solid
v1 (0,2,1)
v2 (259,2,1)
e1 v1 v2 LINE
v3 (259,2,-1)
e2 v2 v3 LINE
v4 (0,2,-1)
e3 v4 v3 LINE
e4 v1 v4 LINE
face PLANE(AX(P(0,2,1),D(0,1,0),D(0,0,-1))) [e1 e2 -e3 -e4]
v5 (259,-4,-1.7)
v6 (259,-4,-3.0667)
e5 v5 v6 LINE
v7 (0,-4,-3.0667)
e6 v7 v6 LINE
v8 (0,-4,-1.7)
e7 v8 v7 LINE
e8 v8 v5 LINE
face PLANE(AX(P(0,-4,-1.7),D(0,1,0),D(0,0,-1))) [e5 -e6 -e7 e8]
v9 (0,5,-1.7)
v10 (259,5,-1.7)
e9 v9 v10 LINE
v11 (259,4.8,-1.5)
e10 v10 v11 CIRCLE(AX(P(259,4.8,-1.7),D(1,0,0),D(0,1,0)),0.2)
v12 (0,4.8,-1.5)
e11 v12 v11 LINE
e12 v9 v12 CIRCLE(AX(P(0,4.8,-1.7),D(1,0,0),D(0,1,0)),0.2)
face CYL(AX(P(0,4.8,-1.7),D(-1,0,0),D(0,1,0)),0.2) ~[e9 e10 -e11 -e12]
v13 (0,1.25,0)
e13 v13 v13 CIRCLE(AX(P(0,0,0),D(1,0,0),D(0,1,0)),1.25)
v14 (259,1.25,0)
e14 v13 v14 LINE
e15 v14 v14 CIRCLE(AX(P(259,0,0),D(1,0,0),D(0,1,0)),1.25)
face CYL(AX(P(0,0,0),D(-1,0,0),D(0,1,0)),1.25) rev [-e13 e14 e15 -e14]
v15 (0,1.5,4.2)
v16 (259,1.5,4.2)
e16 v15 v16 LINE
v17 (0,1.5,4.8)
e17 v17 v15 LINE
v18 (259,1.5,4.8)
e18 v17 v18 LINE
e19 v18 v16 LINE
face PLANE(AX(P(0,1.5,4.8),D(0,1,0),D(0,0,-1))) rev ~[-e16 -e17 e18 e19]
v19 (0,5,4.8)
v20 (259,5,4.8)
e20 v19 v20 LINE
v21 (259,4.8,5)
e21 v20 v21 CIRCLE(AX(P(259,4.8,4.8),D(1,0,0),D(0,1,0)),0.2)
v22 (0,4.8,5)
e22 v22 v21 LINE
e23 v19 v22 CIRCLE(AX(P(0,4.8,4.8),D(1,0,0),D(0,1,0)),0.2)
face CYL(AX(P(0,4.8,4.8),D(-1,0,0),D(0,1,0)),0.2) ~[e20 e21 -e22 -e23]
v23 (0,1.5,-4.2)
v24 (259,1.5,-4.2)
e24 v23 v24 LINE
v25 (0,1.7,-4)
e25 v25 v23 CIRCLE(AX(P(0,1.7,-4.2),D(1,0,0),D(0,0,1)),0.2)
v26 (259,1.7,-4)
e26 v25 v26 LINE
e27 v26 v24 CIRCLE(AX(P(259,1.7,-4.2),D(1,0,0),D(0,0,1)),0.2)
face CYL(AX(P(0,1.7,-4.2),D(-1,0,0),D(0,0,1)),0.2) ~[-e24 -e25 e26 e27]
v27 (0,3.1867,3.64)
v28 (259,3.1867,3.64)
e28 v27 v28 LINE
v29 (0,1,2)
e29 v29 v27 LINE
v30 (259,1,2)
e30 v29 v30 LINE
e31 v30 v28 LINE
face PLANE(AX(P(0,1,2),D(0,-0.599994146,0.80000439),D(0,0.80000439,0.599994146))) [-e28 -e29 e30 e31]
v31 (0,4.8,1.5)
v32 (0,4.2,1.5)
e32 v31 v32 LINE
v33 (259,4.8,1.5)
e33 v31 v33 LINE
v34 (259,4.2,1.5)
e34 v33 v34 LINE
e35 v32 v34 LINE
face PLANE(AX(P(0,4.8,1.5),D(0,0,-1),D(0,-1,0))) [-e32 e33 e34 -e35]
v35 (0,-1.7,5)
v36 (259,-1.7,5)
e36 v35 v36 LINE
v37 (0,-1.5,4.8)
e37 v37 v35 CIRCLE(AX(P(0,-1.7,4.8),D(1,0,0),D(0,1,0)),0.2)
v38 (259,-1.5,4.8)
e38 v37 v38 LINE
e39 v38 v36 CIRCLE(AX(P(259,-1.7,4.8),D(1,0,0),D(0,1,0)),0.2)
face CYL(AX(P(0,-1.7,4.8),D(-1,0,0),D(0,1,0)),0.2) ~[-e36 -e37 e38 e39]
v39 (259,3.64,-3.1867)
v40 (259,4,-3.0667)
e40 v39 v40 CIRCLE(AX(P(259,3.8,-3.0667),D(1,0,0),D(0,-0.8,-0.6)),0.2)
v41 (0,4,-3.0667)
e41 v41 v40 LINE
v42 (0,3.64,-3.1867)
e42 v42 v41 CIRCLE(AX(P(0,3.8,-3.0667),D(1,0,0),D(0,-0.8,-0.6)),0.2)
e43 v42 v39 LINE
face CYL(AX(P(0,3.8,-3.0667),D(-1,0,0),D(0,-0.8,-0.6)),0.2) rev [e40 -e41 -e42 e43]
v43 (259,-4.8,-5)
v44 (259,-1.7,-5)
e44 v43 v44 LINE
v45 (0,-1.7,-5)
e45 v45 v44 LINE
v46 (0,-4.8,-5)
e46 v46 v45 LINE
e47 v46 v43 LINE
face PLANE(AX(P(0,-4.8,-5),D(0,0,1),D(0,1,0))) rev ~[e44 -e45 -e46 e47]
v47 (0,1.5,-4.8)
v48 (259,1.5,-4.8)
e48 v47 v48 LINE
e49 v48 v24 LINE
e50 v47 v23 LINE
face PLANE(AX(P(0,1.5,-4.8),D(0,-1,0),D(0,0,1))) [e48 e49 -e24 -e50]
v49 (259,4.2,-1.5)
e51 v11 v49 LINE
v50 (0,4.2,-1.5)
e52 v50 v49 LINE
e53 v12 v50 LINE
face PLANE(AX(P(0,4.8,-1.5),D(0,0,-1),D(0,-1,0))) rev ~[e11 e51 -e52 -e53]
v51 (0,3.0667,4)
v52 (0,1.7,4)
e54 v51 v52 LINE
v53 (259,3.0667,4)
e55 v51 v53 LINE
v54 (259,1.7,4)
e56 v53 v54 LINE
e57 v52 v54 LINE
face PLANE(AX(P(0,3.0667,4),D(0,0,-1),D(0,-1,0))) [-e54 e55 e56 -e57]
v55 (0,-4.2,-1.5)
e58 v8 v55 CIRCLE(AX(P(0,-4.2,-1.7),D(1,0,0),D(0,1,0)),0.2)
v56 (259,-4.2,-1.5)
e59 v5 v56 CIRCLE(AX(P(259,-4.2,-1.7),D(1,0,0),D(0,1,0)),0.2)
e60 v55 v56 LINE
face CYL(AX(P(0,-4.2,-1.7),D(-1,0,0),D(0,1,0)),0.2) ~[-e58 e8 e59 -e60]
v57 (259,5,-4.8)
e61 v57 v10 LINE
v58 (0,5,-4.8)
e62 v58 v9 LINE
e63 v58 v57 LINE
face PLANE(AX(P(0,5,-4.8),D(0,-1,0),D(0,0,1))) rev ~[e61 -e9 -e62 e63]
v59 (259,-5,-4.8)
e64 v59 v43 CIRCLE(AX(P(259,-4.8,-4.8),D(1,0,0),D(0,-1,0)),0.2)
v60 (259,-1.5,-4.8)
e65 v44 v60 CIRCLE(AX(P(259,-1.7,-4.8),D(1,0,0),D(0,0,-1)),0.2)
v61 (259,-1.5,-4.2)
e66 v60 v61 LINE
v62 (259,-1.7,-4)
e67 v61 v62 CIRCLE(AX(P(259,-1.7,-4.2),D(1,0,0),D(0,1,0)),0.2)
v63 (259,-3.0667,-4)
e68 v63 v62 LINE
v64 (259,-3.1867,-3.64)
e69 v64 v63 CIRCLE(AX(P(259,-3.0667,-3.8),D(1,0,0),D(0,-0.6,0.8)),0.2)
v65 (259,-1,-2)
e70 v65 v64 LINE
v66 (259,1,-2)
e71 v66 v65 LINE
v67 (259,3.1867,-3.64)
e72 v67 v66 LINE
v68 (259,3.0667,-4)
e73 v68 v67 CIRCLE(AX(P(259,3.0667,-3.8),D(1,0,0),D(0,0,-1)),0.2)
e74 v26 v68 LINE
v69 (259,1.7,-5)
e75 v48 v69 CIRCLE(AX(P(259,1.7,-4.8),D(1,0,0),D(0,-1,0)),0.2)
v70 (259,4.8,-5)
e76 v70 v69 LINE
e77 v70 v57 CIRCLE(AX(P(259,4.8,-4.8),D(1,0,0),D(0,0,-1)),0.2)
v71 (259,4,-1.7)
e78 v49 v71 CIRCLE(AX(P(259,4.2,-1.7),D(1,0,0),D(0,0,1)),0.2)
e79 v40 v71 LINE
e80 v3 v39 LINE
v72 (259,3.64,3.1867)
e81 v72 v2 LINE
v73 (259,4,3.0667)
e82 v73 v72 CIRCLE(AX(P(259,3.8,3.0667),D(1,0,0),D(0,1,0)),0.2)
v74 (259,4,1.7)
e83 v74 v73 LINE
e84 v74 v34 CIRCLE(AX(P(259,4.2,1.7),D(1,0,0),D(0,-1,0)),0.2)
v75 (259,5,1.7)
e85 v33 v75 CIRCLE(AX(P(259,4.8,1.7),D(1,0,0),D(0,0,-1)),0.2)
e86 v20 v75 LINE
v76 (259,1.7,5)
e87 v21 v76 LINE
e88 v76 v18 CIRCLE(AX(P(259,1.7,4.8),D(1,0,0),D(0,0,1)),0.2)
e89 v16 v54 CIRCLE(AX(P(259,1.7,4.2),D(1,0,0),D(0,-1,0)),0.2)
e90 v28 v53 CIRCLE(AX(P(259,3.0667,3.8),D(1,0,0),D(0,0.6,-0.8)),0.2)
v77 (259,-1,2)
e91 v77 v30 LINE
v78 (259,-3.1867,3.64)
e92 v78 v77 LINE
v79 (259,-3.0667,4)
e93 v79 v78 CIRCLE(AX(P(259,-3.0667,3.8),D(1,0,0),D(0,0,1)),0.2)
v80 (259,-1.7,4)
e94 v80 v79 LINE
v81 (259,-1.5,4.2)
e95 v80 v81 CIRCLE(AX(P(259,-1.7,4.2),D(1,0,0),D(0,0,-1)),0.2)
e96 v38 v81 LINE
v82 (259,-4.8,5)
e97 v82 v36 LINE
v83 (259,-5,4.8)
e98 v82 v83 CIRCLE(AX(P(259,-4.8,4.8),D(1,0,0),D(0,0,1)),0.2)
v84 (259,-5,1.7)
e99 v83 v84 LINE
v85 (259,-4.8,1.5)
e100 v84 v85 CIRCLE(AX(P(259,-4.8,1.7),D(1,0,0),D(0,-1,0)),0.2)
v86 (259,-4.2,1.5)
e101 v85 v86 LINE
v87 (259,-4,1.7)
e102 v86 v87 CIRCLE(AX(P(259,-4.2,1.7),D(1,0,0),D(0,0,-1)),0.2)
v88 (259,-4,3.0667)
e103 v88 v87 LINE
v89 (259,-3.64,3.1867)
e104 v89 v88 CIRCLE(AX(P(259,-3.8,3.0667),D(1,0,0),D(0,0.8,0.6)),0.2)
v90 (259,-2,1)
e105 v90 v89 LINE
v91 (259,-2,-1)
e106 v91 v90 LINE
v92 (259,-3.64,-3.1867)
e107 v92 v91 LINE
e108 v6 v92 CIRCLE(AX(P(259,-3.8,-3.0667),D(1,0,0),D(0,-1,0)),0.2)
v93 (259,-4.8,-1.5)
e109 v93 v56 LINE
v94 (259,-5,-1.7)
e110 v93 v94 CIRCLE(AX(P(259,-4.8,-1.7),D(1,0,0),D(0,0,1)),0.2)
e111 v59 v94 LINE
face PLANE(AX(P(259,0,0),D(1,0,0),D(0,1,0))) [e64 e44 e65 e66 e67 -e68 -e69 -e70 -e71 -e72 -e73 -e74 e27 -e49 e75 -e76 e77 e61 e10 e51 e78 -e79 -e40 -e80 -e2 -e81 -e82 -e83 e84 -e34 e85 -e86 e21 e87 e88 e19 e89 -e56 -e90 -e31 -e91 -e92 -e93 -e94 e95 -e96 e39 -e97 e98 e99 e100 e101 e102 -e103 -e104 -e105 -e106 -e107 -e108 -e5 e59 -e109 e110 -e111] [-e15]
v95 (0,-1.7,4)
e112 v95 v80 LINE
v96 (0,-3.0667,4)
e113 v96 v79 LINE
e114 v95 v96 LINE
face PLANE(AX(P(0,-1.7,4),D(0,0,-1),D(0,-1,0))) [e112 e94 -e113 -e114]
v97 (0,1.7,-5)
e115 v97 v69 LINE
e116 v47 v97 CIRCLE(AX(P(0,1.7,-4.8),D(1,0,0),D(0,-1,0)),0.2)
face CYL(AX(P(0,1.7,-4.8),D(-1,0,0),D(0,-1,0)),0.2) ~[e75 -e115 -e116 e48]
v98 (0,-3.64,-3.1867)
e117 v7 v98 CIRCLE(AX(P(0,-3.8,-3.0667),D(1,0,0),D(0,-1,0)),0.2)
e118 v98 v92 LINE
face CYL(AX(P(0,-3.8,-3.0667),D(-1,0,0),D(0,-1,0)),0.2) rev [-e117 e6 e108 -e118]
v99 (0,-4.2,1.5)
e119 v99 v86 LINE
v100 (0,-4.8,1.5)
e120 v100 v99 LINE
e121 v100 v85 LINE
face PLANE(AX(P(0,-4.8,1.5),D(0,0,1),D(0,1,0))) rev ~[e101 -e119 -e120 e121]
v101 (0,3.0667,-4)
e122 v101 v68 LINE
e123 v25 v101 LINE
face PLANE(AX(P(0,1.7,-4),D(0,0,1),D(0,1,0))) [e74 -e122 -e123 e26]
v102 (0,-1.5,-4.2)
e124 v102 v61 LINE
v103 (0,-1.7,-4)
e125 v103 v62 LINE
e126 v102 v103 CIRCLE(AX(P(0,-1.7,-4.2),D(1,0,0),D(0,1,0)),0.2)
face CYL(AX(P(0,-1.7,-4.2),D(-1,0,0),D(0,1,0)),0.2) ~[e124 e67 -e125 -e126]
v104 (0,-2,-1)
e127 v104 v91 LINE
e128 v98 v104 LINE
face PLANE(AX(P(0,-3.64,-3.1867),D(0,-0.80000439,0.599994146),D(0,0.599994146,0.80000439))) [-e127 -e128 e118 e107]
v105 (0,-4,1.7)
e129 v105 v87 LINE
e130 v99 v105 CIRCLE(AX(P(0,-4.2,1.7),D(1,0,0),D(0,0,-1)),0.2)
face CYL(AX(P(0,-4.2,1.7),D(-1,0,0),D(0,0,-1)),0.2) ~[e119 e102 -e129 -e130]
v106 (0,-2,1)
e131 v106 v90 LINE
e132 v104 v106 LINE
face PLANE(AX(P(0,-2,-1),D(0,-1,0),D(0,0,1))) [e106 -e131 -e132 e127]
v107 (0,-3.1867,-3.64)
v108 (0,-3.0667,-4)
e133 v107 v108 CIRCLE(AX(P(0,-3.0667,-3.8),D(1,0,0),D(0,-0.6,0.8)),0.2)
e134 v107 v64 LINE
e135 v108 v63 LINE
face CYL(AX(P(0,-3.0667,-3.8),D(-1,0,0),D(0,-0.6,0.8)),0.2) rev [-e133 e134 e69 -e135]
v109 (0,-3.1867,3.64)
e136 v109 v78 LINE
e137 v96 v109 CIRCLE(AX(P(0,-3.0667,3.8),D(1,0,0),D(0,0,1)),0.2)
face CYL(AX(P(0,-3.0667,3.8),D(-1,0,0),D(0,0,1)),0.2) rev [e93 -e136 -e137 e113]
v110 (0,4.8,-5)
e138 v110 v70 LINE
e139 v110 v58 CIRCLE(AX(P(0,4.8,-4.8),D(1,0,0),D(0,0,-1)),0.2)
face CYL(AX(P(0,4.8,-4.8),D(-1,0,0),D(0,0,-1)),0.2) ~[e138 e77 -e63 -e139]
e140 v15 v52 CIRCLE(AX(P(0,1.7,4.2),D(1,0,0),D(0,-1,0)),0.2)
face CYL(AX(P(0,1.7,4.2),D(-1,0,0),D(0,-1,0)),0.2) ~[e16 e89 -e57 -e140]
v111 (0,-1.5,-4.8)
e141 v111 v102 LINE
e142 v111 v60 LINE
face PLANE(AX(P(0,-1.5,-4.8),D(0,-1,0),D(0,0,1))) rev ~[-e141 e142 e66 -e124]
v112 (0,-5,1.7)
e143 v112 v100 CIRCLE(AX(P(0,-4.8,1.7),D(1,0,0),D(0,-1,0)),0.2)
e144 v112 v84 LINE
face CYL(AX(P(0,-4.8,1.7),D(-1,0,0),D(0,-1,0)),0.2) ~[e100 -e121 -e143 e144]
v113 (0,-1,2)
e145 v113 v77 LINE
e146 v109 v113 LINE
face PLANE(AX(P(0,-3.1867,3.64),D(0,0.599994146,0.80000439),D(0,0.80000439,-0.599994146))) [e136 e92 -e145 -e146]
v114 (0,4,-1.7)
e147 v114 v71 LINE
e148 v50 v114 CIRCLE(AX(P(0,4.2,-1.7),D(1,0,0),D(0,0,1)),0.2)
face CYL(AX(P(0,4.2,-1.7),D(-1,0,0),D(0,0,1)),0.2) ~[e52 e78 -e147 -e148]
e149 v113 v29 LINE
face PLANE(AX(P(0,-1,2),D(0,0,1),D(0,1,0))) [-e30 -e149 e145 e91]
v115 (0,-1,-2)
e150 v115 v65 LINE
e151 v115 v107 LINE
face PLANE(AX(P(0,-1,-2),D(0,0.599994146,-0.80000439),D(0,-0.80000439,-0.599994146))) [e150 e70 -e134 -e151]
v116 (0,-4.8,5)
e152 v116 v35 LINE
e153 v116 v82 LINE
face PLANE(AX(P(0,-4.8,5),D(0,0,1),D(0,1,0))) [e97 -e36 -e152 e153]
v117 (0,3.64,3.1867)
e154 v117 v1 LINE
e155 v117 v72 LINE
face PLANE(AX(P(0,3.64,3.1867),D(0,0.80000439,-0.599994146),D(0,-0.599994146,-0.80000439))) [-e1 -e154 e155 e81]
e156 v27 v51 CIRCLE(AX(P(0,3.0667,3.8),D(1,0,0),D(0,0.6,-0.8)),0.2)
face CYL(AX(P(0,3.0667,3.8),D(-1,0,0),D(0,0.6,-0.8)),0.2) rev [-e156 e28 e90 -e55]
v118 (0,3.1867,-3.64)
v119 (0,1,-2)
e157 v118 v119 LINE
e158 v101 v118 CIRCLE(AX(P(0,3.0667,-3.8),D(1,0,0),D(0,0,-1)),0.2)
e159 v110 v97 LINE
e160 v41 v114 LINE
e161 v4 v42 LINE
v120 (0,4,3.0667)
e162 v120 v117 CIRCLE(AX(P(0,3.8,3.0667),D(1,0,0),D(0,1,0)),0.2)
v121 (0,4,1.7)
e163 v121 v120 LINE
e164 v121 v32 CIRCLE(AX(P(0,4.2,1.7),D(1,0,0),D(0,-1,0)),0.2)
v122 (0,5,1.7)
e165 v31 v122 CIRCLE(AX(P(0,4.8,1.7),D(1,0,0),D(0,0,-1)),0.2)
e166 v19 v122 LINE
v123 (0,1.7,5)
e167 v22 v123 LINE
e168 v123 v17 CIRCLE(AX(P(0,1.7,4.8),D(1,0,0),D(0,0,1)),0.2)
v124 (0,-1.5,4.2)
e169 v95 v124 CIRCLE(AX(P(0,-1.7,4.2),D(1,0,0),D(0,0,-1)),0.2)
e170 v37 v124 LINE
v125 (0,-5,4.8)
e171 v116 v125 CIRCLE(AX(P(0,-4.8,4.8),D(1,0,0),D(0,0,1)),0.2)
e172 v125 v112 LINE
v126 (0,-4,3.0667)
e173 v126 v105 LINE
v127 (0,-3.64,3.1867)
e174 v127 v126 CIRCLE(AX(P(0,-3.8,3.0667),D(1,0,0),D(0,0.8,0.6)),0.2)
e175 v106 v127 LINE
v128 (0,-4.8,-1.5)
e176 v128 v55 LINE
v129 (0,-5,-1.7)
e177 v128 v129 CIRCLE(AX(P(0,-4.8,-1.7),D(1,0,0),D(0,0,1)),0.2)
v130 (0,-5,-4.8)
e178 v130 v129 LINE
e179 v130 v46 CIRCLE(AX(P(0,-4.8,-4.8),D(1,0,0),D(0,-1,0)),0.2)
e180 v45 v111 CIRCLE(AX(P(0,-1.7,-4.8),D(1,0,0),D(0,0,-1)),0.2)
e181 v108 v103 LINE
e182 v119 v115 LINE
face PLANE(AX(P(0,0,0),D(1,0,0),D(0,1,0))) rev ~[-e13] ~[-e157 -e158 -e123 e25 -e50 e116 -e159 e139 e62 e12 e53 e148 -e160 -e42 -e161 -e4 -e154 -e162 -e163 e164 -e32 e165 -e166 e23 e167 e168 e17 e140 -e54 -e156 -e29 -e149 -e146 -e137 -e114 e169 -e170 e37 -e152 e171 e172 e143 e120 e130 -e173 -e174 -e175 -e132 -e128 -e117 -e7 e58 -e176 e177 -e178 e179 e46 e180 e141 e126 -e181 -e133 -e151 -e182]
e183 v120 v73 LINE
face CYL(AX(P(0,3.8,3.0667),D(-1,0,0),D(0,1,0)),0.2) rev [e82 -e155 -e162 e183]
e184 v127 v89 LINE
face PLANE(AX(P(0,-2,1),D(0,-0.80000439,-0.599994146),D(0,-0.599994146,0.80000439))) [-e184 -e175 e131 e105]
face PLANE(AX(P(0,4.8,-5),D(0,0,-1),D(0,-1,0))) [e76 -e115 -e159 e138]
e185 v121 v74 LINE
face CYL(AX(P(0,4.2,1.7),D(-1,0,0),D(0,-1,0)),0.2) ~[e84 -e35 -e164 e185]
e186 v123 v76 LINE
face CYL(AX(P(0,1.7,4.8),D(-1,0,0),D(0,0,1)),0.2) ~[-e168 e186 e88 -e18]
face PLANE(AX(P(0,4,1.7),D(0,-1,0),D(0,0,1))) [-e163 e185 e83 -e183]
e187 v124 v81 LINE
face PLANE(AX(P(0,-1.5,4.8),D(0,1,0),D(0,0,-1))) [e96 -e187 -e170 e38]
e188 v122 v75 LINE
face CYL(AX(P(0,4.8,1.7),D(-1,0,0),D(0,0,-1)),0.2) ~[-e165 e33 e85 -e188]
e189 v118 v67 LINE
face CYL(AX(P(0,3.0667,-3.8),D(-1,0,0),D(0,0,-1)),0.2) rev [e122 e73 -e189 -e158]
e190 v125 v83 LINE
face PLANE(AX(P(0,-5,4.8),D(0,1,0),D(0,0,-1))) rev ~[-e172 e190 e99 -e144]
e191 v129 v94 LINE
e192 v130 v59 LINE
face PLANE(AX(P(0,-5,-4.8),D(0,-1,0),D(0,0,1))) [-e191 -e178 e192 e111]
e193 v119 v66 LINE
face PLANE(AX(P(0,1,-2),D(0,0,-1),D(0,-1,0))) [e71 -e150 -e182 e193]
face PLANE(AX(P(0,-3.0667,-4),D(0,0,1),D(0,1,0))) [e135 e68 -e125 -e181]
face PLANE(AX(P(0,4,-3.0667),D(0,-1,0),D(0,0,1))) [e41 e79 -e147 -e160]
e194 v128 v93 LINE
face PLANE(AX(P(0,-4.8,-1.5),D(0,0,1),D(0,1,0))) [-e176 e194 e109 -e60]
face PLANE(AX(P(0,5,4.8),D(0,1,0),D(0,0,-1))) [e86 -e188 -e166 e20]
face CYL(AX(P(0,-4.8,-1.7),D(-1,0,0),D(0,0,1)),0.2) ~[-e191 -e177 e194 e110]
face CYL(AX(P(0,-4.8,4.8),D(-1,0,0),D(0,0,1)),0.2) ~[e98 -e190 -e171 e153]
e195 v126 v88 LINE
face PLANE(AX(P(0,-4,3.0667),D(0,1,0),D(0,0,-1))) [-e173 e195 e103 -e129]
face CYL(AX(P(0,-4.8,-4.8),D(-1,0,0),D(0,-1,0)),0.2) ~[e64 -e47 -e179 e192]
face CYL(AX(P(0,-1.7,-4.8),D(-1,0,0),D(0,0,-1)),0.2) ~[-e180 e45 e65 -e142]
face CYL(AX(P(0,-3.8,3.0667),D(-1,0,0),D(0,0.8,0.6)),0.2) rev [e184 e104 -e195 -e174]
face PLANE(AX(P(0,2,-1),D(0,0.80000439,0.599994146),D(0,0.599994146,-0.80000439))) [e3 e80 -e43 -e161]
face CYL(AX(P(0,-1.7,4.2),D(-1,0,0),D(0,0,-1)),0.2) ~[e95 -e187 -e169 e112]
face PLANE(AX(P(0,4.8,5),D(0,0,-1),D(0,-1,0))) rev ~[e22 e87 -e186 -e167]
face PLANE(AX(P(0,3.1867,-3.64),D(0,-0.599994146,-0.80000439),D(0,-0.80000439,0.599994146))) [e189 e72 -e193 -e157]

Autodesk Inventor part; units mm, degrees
ref_plane "YZ Plane" through (0, 0, 0) normal (1, 0, 0) x (0, 1, 0)
ref_plane "XZ Plane" through (0, 0, 0) normal (0, 1, 0) x (-1, 0, 0)
ref_plane "XY Plane" through (0, 0, 0) normal (0, 0, 1) x (1, 0, 0)
sketch "Esquisse1" plane through (0, 0, 0) normal (1, 0, 0) x (0, 1, 0)
  line L0 (-5, -5) -> (5, 5) construction
  line L1 (5, -5) -> (-5, 5) construction
  circle A0 centre (0, 0) radius 1.25
  line L2 (2, 1) -> (2, -1)
  line L3 (-1, 2) -> (1, 2)
  line L4 (-2, -1) -> (-2, 1)
  line L5 (1, -2) -> (-1, -2)
  line L6 (4.8, -5) -> (1.7, -5)
  line L7 (5, -4.8) -> (5, -1.7)
  line L8 (1.5, -4.8) -> (1.5, -4.2)
  line L9 (12.6837, 0) -> (-8.9006, 0) construction
  line L10 (1.5, -4) -> (4, -4) construction
  line L11 (4, -4) -> (4, -1.5) construction
  line L12 (4, -1.5) -> (5, -1.5) construction
  line L13 (5, -5) -> (2, -1) construction
  line L14 (2, -1) -> (4, -3.6667) construction
  line L15 (2, -1) -> (4, -3.6667) construction
  line L16 (4, -3.0667) -> (4, -1.7)
  line L17 (4.8, -1.5) -> (4.2, -1.5)
  line L18 (1, -2) -> (5, -5) construction
  line L19 (1.7, -4) -> (3.0667, -4)
  line L20 (3.1867, -3.64) -> (1, -2)
  line L21 (2, -1) -> (3.64, -3.1867)
  arc A1 (5, -1.7) -> (4.8, -1.5) centre (4.8, -1.7) ccw
  arc A2 (4.2, -1.5) -> (4, -1.7) centre (4.2, -1.7) ccw
  arc A3 (4.8, -5) -> (5, -4.8) centre (4.8, -4.8) ccw
  arc A4 (1.5, -4.8) -> (1.7, -5) centre (1.7, -4.8) ccw
  arc A5 (1.7, -4) -> (1.5, -4.2) centre (1.7, -4.2) ccw
  arc A6 (3.0667, -4) -> (3.1867, -3.64) centre (3.0667, -3.8) ccw
  arc A7 (3.64, -3.1867) -> (4, -3.0667) centre (3.8, -3.0667) ccw
  arc A8 (3.1867, 3.64) -> (3.0667, 4) centre (3.0667, 3.8) ccw
  line L22 (1.5, 4.8) -> (1.5, 4.2)
  line L23 (1.5, 4) -> (1.5, 5) construction
  arc A9 (4, 3.0667) -> (3.64, 3.1867) centre (3.8, 3.0667) ccw
  line L24 (3.0667, 4) -> (1.7, 4)
  arc A10 (1.5, 4.2) -> (1.7, 4) centre (1.7, 4.2) ccw
  line L25 (4, 1.7) -> (4, 3.0667)
  line L26 (4, 4) -> (1.5, 4) construction
  line L27 (1, 2) -> (3.1867, 3.64)
  line L28 (4.8, 1.5) -> (4.2, 1.5)
  line L29 (1, 2) -> (3.6667, 4) construction
  line L30 (1, 2) -> (3.6667, 4) construction
  line L31 (4.8, 5) -> (1.7, 5)
  line L32 (3.64, 3.1867) -> (2, 1)
  line L33 (5, 4.8) -> (5, 1.7)
  line L34 (5, 5) -> (1, 2) construction
  line L35 (2, 1) -> (5, 5) construction
  line L36 (4, 1.5) -> (4, 4) construction
  circle A11 centre (0, 0) radius 1.25
  line L37 (-1, 2) -> (1, 2)
  line L38 (-2, -1) -> (-2, 1)
  line L39 (1, -2) -> (-1, -2)
  line L40 (2, 1) -> (2, -1)
  arc A12 (1.7, 5) -> (1.5, 4.8) centre (1.7, 4.8) ccw
  arc A13 (5, 4.8) -> (4.8, 5) centre (4.8, 4.8) ccw
  arc A14 (4, 1.7) -> (4.2, 1.5) centre (4.2, 1.7) ccw
  arc A15 (4.8, 1.5) -> (5, 1.7) centre (4.8, 1.7) ccw
  arc A16 (-3.64, 3.1867) -> (-4, 3.0667) centre (-3.8, 3.0667) ccw
  line L41 (-4.8, 1.5) -> (-4.2, 1.5)
  line L42 (-4, 1.5) -> (-5, 1.5) construction
  arc A17 (-3.0667, 4) -> (-3.1867, 3.64) centre (-3.0667, 3.8) ccw
  line L43 (-4, 3.0667) -> (-4, 1.7)
  arc A18 (-4.2, 1.5) -> (-4, 1.7) centre (-4.2, 1.7) ccw
  line L44 (-1.7, 4) -> (-3.0667, 4)
  line L45 (-4, 4) -> (-4, 1.5) construction
  line L46 (-2, 1) -> (-3.64, 3.1867)
  line L47 (-1.5, 4.8) -> (-1.5, 4.2)
  line L48 (-2, 1) -> (-4, 3.6667) construction
  line L49 (-2, 1) -> (-4, 3.6667) construction
  line L50 (-5, 4.8) -> (-5, 1.7)
  line L51 (-3.1867, 3.64) -> (-1, 2)
  line L52 (-4.8, 5) -> (-1.7, 5)
  line L53 (-5, 5) -> (-2, 1) construction
  line L54 (-1, 2) -> (-5, 5) construction
  line L55 (-1.5, 4) -> (-4, 4) construction
  circle A19 centre (0, 0) radius 1.25
  line L56 (-2, -1) -> (-2, 1)
  line L57 (1, -2) -> (-1, -2)
  line L58 (2, 1) -> (2, -1)
  line L59 (-1, 2) -> (1, 2)
  arc A20 (-5, 1.7) -> (-4.8, 1.5) centre (-4.8, 1.7) ccw
  arc A21 (-4.8, 5) -> (-5, 4.8) centre (-4.8, 4.8) ccw
  arc A22 (-1.7, 4) -> (-1.5, 4.2) centre (-1.7, 4.2) ccw
  arc A23 (-1.5, 4.8) -> (-1.7, 5) centre (-1.7, 4.8) ccw
  arc A24 (-3.1867, -3.64) -> (-3.0667, -4) centre (-3.0667, -3.8) ccw
  line L60 (-1.5, -4.8) -> (-1.5, -4.2)
  line L61 (-1.5, -4) -> (-1.5, -5) construction
  arc A25 (-4, -3.0667) -> (-3.64, -3.1867) centre (-3.8, -3.0667) ccw
  line L62 (-3.0667, -4) -> (-1.7, -4)
  arc A26 (-1.5, -4.2) -> (-1.7, -4) centre (-1.7, -4.2) ccw
  line L63 (-4, -1.7) -> (-4, -3.0667)
  line L64 (-4, -4) -> (-1.5, -4) construction
  line L65 (-1, -2) -> (-3.1867, -3.64)
  line L66 (-4.8, -1.5) -> (-4.2, -1.5)
  line L67 (-1, -2) -> (-3.6667, -4) construction
  line L68 (-1, -2) -> (-3.6667, -4) construction
  line L69 (-4.8, -5) -> (-1.7, -5)
  line L70 (-3.64, -3.1867) -> (-2, -1)
  line L71 (-5, -4.8) -> (-5, -1.7)
  line L72 (-5, -5) -> (-1, -2) construction
  line L73 (-2, -1) -> (-5, -5) construction
  line L74 (-4, -1.5) -> (-4, -4) construction
  circle A27 centre (0, 0) radius 1.25
  line L75 (1, -2) -> (-1, -2)
  line L76 (2, 1) -> (2, -1)
  line L77 (-1, 2) -> (1, 2)
  line L78 (-2, -1) -> (-2, 1)
  arc A28 (-1.7, -5) -> (-1.5, -4.8) centre (-1.7, -4.8) ccw
  arc A29 (-5, -4.8) -> (-4.8, -5) centre (-4.8, -4.8) ccw
  arc A30 (-4, -1.7) -> (-4.2, -1.5) centre (-4.2, -1.7) ccw
  arc A31 (-4.8, -1.5) -> (-5, -1.7) centre (-4.8, -1.7) ccw
  point P0 (2, 0)
  point P1 (0, 2)
  point P2 (-2, 0)
  point P3 (0, -2)
  point P4 (1.5, -5)
  point P5 (3.6667, -4)
  point P6 (4, 3.6667)
  point P7 (5, 1.5)
  point P8 (0, 2)
  point P9 (-2, 0)
  point P10 (0, -2)
  point P11 (2, 0)
  point P12 (-3.6667, 4)
  point P13 (-1.5, 5)
  point P14 (-2, 0)
  point P15 (0, -2)
  point P16 (2, 0)
  point P17 (0, 2)
  point P18 (-4, -3.6667)
  point P19 (-5, -1.5)
  point P20 (0, -2)
  point P21 (2, 0)
  point P22 (0, 2)
  point P23 (-2, 0)
  dimension "d0" = 10
  dimension "d1" = 10
  dimension "d19" = 2.5
  dimension "d30" = 2
  dimension "d36" = 360
  dimension "d39" = 3.5
  dimension "d40" = 3.5
  dimension "d41" = 1
  dimension "d50" = 0.2
  dimension "d60" = 0.2
  dimension "d61" = 0.2
  dimension "d62" = 0.2
  dimension "d63" = 0.2
  dimension "d64" = 0.2
  dimension "d73" = 0.2
  dimension "d80" = 360
extrude "Extrusion1" add sketch "Esquisse1" along normal blind 259
properties part number "profile259"
